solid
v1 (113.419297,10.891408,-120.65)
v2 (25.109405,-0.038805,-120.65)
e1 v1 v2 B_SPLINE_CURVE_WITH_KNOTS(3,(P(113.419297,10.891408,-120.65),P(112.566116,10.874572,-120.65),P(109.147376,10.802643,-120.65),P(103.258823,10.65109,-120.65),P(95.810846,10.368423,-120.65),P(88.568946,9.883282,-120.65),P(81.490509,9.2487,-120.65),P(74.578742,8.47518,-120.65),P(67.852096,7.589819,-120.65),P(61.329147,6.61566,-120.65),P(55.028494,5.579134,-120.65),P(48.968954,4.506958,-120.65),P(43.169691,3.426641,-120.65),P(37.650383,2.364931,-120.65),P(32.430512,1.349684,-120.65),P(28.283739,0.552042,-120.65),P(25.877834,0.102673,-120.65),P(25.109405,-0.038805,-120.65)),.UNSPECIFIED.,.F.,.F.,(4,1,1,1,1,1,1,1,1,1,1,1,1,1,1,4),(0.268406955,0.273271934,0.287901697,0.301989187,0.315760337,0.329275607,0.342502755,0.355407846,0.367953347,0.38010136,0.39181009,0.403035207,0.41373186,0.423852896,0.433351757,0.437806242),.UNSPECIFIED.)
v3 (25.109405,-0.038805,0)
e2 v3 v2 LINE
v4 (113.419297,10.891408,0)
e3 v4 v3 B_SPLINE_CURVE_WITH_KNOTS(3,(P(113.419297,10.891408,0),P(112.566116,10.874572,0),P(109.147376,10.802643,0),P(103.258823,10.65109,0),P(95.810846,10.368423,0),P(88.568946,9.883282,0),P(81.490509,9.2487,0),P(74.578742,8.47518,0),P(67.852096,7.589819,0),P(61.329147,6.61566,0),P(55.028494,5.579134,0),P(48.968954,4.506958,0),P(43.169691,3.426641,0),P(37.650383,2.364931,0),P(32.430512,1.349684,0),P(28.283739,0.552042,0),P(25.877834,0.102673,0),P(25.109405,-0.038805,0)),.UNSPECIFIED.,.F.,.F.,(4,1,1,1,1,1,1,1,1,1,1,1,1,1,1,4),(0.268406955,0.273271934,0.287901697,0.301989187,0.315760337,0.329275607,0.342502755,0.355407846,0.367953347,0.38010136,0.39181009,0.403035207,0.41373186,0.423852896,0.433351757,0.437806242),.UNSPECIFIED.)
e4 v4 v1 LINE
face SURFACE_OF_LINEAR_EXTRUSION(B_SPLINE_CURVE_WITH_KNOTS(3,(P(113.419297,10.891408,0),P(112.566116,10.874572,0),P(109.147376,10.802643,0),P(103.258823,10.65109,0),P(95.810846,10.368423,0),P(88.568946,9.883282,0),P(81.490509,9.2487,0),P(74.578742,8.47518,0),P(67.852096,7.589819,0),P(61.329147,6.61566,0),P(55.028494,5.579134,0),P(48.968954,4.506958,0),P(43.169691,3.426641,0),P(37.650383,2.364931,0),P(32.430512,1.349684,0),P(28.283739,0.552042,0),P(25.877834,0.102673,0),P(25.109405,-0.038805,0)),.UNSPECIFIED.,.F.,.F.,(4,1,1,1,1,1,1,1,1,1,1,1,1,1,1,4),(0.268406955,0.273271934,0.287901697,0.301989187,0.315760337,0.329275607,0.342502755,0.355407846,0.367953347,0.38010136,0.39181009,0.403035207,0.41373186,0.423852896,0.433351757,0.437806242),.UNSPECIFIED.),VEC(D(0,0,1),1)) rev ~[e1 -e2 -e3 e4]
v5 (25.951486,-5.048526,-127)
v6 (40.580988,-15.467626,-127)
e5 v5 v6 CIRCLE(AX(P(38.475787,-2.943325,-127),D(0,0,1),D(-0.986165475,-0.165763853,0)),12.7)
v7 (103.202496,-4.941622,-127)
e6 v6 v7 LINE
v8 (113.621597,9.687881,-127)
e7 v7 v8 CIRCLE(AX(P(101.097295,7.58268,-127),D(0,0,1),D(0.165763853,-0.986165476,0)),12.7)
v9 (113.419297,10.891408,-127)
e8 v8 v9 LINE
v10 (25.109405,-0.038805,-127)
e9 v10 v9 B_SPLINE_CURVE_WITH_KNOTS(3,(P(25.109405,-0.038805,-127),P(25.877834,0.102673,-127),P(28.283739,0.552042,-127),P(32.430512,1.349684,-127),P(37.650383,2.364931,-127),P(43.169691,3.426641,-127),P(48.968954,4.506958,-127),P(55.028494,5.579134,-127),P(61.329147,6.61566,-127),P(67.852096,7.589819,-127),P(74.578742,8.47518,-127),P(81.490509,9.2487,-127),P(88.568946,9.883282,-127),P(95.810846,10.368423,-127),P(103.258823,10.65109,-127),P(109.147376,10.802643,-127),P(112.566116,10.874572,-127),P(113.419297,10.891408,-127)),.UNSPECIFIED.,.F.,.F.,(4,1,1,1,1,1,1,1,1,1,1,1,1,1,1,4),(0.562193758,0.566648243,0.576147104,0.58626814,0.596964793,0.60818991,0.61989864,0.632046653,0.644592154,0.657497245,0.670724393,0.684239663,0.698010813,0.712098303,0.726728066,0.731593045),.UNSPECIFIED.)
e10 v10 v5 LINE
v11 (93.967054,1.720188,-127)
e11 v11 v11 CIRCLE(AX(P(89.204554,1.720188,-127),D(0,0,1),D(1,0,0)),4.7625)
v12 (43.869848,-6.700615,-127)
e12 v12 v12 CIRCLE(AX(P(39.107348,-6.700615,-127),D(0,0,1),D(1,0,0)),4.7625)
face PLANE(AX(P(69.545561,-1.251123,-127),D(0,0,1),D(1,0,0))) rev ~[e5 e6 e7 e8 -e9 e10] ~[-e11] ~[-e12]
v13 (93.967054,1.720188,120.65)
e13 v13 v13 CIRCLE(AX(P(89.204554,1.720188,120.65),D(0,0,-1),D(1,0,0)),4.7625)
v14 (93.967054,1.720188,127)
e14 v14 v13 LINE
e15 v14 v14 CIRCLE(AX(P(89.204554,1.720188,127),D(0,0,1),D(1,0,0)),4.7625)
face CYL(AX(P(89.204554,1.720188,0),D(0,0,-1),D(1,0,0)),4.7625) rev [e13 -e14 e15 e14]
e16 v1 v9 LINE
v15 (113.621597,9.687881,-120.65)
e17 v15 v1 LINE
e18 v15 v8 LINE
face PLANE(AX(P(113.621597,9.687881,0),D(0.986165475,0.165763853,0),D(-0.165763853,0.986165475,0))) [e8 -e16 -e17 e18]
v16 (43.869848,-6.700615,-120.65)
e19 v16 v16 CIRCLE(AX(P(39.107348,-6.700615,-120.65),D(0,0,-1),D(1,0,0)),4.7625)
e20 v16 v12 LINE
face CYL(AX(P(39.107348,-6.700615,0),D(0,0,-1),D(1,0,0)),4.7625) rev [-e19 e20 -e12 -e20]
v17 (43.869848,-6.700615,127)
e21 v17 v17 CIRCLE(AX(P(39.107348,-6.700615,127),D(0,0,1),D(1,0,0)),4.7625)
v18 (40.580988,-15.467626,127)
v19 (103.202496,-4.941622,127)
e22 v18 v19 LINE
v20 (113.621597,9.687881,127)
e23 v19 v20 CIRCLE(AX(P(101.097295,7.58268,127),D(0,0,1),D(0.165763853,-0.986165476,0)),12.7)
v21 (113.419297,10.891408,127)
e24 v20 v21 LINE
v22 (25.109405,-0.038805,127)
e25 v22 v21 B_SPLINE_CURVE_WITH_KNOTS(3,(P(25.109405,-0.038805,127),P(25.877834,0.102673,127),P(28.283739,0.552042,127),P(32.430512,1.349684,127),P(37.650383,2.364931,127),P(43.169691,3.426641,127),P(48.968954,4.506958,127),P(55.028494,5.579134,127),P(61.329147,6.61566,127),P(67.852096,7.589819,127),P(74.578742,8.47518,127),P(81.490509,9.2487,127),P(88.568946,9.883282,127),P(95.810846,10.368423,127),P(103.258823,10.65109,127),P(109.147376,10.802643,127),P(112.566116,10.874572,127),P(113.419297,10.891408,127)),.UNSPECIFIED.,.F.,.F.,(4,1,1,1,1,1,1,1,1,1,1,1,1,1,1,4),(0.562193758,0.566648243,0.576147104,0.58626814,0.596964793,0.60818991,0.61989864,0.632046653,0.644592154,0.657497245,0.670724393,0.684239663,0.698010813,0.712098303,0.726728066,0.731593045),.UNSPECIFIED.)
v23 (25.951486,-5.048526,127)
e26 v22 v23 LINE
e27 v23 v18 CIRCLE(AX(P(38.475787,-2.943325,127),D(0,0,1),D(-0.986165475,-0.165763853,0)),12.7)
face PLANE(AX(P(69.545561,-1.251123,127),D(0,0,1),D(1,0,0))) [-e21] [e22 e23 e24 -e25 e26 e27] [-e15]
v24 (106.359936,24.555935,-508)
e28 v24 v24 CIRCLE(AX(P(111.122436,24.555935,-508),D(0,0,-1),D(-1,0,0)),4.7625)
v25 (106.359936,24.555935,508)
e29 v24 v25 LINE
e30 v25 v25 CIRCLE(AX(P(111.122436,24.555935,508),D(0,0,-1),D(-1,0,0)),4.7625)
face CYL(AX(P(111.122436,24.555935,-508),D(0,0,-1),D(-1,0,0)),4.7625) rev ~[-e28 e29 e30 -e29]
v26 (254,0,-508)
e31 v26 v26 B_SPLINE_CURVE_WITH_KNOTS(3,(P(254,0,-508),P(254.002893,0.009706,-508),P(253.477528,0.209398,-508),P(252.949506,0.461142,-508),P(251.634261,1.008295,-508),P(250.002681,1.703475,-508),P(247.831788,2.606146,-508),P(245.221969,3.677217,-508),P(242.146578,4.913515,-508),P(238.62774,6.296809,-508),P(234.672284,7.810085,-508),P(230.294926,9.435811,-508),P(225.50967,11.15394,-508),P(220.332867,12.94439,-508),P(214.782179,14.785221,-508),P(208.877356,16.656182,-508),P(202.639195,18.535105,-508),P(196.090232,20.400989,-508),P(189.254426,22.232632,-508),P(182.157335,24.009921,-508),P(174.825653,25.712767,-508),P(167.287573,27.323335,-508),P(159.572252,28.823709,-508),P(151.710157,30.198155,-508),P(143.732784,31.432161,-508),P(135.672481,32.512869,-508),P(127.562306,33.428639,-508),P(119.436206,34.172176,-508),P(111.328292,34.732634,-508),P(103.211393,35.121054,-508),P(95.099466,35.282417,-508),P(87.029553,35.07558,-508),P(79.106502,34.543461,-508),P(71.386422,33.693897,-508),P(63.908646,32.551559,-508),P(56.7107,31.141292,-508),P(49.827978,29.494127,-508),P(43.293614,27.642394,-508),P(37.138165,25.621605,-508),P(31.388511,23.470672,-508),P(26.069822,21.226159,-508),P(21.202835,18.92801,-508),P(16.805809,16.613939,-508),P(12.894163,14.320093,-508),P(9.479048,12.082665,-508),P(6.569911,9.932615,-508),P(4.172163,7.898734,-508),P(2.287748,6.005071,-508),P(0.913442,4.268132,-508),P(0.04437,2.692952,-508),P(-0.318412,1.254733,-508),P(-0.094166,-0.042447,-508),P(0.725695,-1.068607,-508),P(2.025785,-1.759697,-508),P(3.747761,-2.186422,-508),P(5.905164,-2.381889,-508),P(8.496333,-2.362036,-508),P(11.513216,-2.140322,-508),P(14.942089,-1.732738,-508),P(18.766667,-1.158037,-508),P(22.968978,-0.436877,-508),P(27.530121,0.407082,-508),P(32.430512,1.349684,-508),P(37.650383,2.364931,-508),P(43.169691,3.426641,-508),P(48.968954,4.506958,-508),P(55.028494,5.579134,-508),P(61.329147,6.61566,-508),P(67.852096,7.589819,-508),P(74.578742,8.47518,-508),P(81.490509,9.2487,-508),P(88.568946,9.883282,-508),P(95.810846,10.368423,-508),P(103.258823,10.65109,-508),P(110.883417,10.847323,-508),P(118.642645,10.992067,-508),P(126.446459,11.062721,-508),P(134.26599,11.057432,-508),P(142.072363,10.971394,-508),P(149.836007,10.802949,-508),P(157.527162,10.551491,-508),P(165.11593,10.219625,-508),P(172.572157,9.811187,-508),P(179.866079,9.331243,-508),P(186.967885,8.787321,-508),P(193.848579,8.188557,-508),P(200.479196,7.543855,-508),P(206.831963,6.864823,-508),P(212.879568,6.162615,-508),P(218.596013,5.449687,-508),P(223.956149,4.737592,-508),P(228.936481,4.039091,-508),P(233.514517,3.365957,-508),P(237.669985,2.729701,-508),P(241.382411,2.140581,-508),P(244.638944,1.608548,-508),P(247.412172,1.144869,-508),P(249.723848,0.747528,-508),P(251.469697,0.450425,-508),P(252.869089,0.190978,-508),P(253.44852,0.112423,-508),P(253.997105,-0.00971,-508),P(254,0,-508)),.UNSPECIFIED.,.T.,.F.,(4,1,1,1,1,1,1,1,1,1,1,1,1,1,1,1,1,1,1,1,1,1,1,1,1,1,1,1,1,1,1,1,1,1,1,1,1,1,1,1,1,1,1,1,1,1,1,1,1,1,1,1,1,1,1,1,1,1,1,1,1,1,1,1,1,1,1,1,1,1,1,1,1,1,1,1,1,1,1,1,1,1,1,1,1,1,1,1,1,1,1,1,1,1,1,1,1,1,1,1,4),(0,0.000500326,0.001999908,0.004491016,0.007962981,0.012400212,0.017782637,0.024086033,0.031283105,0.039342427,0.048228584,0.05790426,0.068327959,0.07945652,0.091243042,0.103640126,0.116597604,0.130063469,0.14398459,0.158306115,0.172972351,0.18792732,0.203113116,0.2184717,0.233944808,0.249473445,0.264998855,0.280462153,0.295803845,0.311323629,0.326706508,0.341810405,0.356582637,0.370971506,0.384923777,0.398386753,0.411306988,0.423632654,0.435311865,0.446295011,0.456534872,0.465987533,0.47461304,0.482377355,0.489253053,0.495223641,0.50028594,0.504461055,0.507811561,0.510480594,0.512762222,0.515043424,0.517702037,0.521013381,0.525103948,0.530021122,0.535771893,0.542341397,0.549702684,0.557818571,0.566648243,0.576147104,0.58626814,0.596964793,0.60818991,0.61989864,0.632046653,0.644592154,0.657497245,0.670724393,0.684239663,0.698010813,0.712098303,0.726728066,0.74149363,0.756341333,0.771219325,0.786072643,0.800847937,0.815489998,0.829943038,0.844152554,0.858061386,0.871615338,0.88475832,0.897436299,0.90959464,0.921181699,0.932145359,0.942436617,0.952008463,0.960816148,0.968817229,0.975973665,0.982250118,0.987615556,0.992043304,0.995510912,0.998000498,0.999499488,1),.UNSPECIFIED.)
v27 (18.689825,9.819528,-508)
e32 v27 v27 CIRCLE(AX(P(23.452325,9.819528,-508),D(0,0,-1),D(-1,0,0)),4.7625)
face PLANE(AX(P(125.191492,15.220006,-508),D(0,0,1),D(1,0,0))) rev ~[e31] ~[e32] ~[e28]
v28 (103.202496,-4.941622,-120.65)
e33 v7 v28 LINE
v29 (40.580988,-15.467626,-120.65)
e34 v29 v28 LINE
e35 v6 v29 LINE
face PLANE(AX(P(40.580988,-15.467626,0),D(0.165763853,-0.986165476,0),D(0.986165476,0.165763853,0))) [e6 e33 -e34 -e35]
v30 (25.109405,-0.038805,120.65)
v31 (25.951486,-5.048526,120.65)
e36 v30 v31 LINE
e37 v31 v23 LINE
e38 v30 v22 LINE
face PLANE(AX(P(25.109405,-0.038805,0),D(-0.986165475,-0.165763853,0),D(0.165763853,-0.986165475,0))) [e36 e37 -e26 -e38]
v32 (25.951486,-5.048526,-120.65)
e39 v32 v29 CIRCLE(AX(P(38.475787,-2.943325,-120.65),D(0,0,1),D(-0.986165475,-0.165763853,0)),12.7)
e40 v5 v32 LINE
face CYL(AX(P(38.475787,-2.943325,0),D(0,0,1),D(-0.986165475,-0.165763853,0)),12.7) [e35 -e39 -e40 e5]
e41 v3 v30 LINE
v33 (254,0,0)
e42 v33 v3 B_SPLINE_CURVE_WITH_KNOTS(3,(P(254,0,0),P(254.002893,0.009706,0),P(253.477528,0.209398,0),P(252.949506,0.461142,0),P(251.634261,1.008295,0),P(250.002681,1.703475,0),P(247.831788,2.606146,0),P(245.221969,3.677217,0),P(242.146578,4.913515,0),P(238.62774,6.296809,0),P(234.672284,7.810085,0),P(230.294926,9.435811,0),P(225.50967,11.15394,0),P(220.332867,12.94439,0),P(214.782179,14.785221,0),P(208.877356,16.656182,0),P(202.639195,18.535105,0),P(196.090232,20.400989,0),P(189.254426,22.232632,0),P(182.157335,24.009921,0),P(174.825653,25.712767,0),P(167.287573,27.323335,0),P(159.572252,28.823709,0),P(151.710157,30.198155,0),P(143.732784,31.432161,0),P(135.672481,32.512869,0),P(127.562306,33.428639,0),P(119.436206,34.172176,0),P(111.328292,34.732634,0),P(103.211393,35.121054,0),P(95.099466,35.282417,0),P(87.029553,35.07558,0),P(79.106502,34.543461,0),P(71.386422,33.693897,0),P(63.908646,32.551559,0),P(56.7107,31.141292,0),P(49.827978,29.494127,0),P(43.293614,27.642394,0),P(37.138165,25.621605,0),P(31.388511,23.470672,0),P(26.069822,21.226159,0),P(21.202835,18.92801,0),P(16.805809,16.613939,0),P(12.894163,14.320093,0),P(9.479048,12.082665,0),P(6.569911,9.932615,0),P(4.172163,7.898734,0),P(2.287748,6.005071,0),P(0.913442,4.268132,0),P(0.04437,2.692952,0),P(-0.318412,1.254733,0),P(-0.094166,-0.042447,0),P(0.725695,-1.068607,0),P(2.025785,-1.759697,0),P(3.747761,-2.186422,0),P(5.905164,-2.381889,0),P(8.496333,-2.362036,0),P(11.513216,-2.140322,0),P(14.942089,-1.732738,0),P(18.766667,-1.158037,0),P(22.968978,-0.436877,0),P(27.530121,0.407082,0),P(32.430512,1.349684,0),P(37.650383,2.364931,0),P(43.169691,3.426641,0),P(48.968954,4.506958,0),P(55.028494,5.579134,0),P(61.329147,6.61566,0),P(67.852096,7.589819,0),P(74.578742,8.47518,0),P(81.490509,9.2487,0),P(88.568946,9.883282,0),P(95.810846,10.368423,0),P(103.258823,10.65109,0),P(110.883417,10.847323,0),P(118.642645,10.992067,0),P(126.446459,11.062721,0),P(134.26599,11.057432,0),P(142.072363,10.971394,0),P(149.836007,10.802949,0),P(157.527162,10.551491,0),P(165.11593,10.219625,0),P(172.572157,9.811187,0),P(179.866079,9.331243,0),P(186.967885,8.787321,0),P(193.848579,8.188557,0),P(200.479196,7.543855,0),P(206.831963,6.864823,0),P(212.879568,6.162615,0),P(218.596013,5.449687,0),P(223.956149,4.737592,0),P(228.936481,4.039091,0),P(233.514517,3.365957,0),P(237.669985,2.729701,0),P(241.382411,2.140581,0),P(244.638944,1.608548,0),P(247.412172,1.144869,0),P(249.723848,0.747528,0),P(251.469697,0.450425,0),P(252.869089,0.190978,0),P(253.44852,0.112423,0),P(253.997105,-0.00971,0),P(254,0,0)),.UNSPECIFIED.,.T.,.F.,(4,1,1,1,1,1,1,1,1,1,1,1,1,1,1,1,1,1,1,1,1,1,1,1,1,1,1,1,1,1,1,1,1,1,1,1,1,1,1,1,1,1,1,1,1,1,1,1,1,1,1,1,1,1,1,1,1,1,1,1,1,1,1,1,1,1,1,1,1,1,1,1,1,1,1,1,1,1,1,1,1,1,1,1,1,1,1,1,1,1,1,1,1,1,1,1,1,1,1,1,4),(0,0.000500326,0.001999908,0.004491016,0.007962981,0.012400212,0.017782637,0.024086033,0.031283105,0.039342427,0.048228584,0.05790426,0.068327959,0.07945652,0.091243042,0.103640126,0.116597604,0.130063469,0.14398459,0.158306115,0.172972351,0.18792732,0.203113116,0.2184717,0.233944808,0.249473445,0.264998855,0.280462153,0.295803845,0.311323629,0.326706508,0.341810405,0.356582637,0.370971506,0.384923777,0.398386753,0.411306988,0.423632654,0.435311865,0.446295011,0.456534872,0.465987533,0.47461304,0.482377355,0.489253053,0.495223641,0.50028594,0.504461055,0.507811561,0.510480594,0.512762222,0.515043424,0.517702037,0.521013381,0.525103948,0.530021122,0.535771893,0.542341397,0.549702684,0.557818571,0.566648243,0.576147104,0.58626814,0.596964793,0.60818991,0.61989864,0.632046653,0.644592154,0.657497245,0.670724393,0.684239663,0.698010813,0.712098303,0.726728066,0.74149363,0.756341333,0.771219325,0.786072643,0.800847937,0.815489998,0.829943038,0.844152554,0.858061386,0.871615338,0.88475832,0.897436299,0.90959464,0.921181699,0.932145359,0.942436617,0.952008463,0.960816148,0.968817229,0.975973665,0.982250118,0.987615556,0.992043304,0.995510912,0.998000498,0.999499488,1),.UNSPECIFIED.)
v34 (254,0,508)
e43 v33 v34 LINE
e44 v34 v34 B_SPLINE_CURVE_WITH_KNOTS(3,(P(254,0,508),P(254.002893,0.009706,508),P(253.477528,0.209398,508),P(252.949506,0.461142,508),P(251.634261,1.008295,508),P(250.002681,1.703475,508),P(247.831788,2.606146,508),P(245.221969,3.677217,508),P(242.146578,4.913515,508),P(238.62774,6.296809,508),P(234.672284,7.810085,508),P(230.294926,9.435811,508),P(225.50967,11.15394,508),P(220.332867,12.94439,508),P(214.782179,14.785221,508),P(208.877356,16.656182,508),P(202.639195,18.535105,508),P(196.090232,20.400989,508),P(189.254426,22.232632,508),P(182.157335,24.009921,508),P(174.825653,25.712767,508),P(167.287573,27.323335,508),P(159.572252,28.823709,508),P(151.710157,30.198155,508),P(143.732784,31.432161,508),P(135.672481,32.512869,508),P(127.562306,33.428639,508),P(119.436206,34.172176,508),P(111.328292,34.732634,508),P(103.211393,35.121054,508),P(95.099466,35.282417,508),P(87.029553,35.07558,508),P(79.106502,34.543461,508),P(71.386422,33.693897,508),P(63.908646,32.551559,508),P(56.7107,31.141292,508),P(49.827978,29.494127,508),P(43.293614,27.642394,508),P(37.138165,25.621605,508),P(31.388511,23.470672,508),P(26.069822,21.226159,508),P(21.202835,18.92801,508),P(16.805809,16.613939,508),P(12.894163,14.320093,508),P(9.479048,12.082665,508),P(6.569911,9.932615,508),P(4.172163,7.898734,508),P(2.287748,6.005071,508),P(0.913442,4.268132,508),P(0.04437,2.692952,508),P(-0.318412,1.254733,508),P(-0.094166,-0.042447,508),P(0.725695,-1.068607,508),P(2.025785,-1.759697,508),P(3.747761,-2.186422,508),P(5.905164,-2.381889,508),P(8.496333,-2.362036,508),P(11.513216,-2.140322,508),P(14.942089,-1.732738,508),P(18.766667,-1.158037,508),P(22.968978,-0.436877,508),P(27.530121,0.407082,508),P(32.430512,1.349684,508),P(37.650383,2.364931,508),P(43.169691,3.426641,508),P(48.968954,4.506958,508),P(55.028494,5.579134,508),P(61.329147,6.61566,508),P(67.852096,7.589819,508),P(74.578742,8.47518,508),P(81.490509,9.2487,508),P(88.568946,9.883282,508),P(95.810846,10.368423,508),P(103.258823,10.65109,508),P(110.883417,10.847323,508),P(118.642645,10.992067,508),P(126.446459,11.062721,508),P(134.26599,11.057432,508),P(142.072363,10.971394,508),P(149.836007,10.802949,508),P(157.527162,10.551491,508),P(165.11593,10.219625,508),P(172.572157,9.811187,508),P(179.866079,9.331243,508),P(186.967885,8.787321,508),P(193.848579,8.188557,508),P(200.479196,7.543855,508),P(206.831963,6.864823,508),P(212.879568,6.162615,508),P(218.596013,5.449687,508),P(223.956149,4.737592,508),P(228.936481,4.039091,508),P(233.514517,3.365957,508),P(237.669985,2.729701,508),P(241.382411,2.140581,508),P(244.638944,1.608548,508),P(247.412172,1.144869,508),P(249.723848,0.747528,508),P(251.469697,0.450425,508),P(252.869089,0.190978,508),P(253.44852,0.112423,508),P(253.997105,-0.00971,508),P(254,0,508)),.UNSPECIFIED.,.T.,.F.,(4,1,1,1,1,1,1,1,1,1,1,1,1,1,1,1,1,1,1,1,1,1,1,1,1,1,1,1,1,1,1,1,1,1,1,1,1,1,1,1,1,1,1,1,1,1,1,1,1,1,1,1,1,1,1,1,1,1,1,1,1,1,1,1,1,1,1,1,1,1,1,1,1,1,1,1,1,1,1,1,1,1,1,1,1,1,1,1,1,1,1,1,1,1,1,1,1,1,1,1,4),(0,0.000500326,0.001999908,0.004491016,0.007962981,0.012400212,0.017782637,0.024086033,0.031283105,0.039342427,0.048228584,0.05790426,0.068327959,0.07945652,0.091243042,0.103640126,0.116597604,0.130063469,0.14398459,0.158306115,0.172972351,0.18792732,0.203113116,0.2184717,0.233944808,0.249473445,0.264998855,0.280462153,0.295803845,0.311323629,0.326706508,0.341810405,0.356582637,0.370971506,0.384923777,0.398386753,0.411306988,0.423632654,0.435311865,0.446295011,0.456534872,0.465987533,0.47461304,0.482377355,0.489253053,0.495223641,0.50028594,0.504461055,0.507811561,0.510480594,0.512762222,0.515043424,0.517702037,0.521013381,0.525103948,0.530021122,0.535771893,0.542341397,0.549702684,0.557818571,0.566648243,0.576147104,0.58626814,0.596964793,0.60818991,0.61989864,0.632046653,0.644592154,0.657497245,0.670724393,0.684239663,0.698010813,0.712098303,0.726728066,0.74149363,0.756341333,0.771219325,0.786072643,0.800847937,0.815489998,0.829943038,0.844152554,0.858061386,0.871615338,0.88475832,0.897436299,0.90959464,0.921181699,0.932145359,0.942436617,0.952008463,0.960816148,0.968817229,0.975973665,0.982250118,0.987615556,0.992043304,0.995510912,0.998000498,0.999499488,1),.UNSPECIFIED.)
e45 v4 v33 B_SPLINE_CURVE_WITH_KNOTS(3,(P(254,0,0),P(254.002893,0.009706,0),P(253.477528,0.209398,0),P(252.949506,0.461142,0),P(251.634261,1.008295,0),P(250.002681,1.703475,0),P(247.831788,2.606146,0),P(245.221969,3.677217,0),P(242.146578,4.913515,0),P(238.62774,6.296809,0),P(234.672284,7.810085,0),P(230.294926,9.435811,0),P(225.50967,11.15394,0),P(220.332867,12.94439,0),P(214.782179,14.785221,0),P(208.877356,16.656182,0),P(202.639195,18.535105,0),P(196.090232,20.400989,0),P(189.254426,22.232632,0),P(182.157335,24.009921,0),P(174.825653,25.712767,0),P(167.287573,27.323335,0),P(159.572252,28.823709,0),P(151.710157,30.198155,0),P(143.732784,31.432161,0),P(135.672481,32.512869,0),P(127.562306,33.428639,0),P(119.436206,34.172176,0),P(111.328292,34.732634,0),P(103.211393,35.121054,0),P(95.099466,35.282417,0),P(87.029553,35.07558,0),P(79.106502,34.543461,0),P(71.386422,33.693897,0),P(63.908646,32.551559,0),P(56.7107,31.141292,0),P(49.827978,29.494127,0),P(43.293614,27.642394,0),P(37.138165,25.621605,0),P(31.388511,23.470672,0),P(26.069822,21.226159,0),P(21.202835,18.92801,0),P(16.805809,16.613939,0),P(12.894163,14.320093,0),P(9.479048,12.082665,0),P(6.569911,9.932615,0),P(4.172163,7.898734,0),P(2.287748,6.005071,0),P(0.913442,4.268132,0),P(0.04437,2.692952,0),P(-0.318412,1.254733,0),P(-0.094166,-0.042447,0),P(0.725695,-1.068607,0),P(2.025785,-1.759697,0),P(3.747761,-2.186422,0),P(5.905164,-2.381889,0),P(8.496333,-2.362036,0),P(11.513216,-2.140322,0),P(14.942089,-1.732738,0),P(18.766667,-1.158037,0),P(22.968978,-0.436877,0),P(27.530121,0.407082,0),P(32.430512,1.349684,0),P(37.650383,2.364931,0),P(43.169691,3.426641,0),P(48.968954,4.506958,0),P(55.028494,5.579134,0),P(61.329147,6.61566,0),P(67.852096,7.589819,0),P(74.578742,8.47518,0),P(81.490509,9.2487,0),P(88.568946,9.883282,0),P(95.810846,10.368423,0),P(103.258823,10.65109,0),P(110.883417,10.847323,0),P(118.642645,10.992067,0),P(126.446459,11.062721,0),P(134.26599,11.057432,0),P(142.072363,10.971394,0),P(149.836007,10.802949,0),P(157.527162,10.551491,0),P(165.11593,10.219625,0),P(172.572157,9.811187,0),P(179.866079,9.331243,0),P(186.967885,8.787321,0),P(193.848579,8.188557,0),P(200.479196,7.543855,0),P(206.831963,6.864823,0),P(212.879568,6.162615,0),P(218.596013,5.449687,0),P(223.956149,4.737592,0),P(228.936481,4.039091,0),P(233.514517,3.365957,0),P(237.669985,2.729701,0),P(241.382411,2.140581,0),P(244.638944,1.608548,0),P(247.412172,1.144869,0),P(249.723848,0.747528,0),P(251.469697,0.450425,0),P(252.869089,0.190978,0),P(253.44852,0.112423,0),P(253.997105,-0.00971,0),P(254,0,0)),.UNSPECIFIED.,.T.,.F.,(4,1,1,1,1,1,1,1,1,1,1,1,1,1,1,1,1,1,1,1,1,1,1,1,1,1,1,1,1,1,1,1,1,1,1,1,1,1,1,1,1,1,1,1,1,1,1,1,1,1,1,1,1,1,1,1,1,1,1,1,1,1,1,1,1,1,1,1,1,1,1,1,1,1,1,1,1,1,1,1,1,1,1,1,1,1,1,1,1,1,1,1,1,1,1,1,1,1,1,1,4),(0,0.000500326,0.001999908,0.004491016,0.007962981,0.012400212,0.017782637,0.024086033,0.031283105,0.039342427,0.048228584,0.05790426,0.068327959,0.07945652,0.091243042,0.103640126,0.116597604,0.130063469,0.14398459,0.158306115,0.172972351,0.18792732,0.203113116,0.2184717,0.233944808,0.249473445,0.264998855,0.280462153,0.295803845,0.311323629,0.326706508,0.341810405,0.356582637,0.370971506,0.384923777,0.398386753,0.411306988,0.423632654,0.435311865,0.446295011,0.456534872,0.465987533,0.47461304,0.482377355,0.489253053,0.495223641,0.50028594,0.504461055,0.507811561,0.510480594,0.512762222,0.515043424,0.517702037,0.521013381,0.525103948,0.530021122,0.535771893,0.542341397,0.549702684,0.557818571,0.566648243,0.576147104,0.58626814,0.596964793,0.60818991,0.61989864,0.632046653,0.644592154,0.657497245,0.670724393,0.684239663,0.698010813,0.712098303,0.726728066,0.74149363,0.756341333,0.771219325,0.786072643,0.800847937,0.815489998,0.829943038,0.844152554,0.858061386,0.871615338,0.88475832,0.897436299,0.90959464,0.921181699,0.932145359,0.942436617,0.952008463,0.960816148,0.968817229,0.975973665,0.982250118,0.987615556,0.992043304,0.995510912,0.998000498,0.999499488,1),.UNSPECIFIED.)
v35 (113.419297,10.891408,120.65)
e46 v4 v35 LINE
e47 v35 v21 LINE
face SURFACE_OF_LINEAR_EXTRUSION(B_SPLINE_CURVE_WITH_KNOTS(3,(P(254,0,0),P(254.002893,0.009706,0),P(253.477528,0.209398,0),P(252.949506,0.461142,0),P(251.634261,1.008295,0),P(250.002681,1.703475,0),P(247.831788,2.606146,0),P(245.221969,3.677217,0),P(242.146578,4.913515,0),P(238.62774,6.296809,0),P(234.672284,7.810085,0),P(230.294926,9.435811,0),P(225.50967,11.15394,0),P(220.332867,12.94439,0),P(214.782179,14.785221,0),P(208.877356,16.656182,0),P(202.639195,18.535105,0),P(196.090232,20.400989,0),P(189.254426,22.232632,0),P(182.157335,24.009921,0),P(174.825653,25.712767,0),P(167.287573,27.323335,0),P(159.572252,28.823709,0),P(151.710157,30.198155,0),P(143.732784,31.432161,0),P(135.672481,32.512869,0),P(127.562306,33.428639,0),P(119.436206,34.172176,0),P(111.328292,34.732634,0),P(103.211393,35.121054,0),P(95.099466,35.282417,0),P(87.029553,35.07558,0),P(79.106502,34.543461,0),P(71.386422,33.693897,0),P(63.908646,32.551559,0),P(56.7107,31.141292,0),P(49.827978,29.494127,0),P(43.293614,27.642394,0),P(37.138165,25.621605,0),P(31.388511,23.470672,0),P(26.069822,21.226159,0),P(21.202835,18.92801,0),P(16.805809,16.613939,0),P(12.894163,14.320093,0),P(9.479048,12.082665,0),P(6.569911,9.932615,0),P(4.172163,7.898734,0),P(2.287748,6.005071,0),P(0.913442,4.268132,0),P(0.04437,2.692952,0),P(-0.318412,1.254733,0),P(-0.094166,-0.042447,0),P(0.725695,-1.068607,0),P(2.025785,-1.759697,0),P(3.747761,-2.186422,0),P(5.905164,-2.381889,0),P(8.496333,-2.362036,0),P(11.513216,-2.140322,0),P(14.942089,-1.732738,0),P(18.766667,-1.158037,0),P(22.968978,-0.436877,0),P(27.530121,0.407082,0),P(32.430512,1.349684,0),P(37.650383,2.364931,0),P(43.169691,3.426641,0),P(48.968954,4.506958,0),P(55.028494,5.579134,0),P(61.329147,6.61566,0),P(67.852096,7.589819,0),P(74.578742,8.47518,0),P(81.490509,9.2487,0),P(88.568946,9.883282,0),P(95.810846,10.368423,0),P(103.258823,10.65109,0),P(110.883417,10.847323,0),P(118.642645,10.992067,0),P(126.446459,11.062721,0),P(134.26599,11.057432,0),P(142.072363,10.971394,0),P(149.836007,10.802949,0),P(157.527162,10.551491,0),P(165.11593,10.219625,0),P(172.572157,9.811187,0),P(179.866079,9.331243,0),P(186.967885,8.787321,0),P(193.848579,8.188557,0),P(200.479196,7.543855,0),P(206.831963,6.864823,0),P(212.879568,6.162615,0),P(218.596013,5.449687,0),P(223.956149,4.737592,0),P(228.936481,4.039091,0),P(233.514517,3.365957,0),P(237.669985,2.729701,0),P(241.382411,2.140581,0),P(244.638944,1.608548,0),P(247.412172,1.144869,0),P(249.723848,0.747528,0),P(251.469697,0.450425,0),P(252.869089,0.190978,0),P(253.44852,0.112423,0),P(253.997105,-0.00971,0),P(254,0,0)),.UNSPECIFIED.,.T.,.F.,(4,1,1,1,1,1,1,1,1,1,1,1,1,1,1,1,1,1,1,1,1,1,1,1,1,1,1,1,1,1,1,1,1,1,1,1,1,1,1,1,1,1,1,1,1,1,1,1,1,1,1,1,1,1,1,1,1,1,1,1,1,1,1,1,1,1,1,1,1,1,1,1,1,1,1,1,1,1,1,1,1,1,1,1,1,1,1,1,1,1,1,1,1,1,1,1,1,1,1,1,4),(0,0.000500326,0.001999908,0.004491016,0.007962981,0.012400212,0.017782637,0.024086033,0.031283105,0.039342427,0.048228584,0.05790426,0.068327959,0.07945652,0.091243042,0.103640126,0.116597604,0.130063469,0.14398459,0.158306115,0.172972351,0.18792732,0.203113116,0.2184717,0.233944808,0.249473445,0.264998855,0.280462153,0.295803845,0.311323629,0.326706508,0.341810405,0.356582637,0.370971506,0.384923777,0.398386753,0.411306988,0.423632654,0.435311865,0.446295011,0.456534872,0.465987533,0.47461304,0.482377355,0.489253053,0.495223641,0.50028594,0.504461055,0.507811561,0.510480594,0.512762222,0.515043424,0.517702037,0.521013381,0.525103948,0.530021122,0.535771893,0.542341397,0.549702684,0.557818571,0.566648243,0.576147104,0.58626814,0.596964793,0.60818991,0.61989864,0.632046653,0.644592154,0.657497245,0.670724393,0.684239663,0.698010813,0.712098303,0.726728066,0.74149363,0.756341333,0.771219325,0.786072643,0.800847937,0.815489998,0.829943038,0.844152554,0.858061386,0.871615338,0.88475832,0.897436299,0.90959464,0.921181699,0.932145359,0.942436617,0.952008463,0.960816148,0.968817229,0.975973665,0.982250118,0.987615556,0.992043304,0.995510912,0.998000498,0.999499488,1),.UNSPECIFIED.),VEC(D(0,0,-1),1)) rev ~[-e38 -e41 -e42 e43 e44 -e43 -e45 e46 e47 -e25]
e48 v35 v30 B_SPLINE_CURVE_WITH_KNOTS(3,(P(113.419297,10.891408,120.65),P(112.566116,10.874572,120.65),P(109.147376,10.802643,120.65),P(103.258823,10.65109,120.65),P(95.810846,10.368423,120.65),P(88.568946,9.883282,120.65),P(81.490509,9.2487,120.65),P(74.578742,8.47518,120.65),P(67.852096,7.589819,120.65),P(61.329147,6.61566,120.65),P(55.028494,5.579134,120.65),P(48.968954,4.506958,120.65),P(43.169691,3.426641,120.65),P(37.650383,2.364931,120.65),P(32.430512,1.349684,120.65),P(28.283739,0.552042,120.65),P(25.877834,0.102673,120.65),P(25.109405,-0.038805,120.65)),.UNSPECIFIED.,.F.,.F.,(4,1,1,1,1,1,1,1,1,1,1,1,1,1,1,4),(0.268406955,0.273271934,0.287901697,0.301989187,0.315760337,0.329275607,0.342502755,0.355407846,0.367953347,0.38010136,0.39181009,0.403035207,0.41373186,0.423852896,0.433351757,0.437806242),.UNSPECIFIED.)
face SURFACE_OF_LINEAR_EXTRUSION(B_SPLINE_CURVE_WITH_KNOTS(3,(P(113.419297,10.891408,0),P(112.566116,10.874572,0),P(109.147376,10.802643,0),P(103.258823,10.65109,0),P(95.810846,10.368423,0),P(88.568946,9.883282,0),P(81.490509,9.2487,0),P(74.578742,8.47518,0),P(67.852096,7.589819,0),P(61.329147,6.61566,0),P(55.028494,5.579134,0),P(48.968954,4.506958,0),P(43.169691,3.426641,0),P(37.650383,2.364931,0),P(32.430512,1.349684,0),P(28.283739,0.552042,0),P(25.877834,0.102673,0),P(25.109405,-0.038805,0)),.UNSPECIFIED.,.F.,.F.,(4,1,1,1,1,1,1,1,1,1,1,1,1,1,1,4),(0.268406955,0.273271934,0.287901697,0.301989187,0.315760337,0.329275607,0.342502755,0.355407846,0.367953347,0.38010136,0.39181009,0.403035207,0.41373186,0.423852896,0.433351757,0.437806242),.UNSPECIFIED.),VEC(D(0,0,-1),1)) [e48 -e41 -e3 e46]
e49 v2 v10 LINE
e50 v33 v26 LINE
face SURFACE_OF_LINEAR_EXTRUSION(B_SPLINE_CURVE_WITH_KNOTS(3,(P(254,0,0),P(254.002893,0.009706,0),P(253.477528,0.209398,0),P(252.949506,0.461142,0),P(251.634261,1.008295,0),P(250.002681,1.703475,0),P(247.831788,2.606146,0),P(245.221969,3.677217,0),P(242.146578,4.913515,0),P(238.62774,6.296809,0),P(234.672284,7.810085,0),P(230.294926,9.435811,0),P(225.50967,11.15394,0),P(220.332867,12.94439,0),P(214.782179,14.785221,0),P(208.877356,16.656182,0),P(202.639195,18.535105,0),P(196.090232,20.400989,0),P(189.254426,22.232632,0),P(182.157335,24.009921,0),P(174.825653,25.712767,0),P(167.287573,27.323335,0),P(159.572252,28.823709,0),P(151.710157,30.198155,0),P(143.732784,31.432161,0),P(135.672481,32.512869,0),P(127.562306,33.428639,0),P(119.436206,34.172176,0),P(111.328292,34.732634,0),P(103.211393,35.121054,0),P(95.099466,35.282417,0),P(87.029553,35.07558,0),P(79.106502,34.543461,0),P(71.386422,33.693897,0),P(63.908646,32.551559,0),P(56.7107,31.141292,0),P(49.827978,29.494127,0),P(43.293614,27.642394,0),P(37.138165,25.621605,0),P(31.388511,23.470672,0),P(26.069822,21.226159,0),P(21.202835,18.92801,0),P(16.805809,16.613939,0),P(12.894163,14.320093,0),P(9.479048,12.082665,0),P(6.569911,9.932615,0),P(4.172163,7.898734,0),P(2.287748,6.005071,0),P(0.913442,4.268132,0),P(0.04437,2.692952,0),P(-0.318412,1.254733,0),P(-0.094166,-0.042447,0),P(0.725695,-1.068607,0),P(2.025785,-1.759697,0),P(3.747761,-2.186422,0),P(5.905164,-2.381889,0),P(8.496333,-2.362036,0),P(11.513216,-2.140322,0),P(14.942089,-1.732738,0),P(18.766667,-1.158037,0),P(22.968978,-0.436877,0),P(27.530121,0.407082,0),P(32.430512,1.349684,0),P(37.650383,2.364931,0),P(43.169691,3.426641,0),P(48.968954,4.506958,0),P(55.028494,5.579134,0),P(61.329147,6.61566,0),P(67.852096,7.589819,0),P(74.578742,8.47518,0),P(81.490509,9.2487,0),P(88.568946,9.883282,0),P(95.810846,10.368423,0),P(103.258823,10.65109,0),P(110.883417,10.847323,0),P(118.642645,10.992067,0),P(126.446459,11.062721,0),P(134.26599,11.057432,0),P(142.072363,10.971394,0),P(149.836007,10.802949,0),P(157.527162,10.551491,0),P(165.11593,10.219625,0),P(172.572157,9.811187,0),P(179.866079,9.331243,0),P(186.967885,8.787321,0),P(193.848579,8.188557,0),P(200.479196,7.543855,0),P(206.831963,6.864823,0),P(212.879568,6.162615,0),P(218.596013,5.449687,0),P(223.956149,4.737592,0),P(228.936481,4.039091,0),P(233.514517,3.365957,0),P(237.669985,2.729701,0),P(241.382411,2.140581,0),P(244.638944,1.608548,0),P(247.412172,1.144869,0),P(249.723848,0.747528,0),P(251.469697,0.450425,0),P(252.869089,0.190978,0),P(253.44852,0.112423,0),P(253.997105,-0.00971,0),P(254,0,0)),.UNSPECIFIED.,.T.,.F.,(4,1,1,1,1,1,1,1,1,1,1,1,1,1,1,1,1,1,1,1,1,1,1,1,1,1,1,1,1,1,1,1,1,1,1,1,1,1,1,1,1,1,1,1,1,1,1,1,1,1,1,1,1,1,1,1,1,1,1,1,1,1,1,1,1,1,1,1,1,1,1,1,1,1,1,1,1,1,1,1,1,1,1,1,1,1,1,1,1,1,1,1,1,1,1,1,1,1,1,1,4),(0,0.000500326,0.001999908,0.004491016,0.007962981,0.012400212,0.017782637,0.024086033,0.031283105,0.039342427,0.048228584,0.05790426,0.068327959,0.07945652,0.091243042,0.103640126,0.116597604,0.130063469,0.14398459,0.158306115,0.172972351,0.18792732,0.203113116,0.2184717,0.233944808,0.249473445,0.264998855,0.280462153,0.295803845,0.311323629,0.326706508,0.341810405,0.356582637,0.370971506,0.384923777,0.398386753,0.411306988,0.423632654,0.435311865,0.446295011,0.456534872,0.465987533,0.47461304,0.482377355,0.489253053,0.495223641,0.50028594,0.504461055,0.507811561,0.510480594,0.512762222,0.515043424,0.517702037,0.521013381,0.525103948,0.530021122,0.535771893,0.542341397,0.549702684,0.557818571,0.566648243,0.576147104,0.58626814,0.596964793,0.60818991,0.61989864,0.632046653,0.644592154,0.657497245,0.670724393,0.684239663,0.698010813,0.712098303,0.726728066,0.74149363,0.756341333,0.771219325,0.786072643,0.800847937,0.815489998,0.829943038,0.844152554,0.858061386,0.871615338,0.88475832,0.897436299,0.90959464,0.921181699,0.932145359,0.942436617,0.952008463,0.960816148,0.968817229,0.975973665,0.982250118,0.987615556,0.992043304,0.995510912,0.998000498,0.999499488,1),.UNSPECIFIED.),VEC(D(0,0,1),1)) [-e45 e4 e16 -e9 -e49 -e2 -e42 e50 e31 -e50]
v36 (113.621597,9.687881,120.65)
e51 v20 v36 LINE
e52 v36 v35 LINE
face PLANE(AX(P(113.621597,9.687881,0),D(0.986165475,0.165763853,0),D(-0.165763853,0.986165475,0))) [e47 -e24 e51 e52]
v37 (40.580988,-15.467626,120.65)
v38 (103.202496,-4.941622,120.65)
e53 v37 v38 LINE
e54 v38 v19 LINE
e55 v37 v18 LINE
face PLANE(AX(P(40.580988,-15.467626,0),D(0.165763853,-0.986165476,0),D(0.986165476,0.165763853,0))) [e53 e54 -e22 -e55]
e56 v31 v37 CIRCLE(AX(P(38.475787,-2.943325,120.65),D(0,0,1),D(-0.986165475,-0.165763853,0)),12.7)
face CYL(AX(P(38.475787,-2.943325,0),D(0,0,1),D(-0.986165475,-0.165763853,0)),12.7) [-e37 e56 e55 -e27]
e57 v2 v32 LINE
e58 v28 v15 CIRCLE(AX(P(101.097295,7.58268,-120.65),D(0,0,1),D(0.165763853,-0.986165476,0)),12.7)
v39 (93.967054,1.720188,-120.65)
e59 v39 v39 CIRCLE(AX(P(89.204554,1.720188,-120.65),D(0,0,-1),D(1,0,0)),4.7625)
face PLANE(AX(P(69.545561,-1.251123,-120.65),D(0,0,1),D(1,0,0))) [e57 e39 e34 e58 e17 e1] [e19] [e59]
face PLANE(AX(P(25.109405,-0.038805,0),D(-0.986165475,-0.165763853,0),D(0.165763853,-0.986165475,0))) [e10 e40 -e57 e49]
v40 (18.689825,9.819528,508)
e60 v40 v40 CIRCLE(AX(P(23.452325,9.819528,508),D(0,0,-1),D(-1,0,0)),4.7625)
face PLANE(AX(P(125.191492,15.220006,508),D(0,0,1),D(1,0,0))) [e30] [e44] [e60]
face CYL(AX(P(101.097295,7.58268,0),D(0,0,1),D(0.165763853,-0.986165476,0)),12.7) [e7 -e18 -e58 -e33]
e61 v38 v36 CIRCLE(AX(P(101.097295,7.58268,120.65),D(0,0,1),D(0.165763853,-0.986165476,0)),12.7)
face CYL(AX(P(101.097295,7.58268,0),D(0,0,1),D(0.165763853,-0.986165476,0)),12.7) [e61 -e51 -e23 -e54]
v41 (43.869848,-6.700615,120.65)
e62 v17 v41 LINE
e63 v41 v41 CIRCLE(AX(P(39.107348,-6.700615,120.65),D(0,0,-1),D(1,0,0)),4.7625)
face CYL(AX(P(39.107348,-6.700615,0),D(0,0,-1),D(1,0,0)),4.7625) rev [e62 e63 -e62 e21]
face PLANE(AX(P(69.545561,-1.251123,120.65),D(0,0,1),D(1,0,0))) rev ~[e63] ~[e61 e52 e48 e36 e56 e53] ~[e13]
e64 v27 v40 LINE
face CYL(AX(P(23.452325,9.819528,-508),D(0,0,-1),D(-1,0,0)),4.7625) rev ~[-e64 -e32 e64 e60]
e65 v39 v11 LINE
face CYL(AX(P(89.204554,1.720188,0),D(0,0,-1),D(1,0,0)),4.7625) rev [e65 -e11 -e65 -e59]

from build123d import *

# Parameters (mm, degrees)
BOSS_EXTRUDE1_DEPTH = 508
CUT_EXTRUDE1_REACH  = 1049.861
SKETCH3_R           = 4.7625
SKETCH4_R           = 4.7625
BOSS_EXTRUDE2_DEPTH = 127
CUT_EXTRUDE3_DEPTH  = 120.65


with BuildPart() as part:
    # Sketch1 → Boss-Extrude1 (new, symmetric)
    with BuildSketch(Plane.XY):
        with BuildLine():
            add(Edge.make_bspline(
                [(254, 0), (254.002893482, 0.009706091), (253.477527879, 0.209398181), (252.949506037, 0.461141777), (251.634261386, 1.008295367), (250.002681167, 1.703474954), (247.831787554, 2.606145622), (245.221969161, 3.677217108), (242.146577503, 4.913515019), (238.627740243, 6.296809437), (234.67228441, 7.81008524), (230.294926317, 9.435811029), (225.509669554, 11.153939959), (220.332866987, 12.94438959), (214.782178744, 14.785221379), (208.877356178, 16.65618159), (202.63919469, 18.535104999), (196.090231851, 20.400989036), (189.25442583, 22.232631868), (182.157334842, 24.009920587), (174.825652649, 25.712766788), (167.287572563, 27.323334674), (159.572252199, 28.823709102), (151.710156906, 30.198155188), (143.73278447, 31.432160728), (135.67248117, 32.512868659), (127.562306475, 33.428639158), (119.436205678, 34.172176027), (111.328291738, 34.732634241), (103.211393299, 35.121054115), (95.099465686, 35.282416862), (87.029553447, 35.075579648), (79.106501551, 34.543461365), (71.386421736, 33.693897181), (63.908646209, 32.551558852), (56.710699674, 31.141291538), (49.827978354, 29.494126849), (43.293614171, 27.642394469), (37.138164618, 25.621605092), (31.388510807, 23.470671552), (26.069821688, 21.226159376), (21.20283506, 18.92801018), (16.805808626, 16.613938979), (12.894163005, 14.32009326), (9.479048158, 12.082665219), (6.569910916, 9.932614642), (4.172163168, 7.898734142), (2.287747942, 6.005070871), (0.913441801, 4.26813225), (0.044369976, 2.692951604), (-0.318412015, 1.254733177), (-0.094165747, -0.042447145), (0.725695004, -1.068606647), (2.025784695, -1.759696942), (3.747761044, -2.186421988), (5.905164056, -2.381889133), (8.496332616, -2.362035977), (11.513215651, -2.14032165), (14.942088582, -1.732738153), (18.766666522, -1.158037352), (22.968977807, -0.436876546), (27.530120842, 0.407082111), (32.430511922, 1.349683716), (37.650383472, 2.364930683), (43.169691456, 3.42664098), (48.968953673, 4.506957646), (55.02849364, 5.579133509), (61.329146927, 6.615660032), (67.852096387, 7.589819061), (74.57874205, 8.475179759), (81.490508777, 9.24870041), (88.568945781, 9.883281565), (95.810846202, 10.368423088), (103.258823401, 10.651090051), (110.883417203, 10.847322909), (118.642645092, 10.992067429), (126.44645874, 11.062721398), (134.265990295, 11.057432203), (142.072363373, 10.971394283), (149.836007192, 10.802948848), (157.52716175, 10.5514915), (165.115929504, 10.219624653), (172.572157263, 9.811186605), (179.866078747, 9.331243183), (186.967885476, 8.787320659), (193.848579242, 8.18855716), (200.479196187, 7.54385543), (206.83196264, 6.86482345), (212.879568444, 6.162615287), (218.596013471, 5.44968657), (223.956148698, 4.737592485), (228.936481189, 4.039090774), (233.514516905, 3.365956593), (237.669985048, 2.729700523), (241.382411049, 2.140580688), (244.63894449, 1.608548299), (247.412171556, 1.144869284), (249.723847999, 0.747527633), (251.469697036, 0.450424645), (252.869088586, 0.190978387), (253.448519931, 0.112422849), (253.997105444, -0.009709695), (254, 0)],
                knots=[0, 0, 0, 0, 0.000500326, 0.001999908, 0.004491016, 0.007962981, 0.012400212, 0.017782637, 0.024086033, 0.031283105, 0.039342427, 0.048228584, 0.05790426, 0.068327959, 0.07945652, 0.091243042, 0.103640126, 0.116597604, 0.130063469, 0.14398459, 0.158306115, 0.172972351, 0.18792732, 0.203113116, 0.2184717, 0.233944808, 0.249473445, 0.264998855, 0.280462153, 0.295803845, 0.311323629, 0.326706508, 0.341810405, 0.356582637, 0.370971506, 0.384923777, 0.398386753, 0.411306988, 0.423632654, 0.435311865, 0.446295011, 0.456534872, 0.465987533, 0.47461304, 0.482377355, 0.489253053, 0.495223641, 0.50028594, 0.504461055, 0.507811561, 0.510480594, 0.512762222, 0.515043424, 0.517702037, 0.521013381, 0.525103948, 0.530021122, 0.535771893, 0.542341397, 0.549702684, 0.557818571, 0.566648243, 0.576147104, 0.58626814, 0.596964793, 0.60818991, 0.61989864, 0.632046653, 0.644592154, 0.657497245, 0.670724393, 0.684239663, 0.698010813, 0.712098303, 0.726728066, 0.74149363, 0.756341333, 0.771219325, 0.786072643, 0.800847937, 0.815489998, 0.829943038, 0.844152554, 0.858061386, 0.871615338, 0.88475832, 0.897436299, 0.90959464, 0.921181699, 0.932145359, 0.942436617, 0.952008463, 0.960816148, 0.968817229, 0.975973665, 0.982250118, 0.987615556, 0.992043304, 0.995510912, 0.998000498, 0.999499488, 1, 1, 1, 1], degree=3))
        make_face()
    extrude(amount=BOSS_EXTRUDE1_DEPTH, both=True)

    # Sketch3 → Cut-Extrude1 (cut, up to next)
    with BuildSketch(Plane(origin=(0, 0, -508), x_dir=(-1, 0, 0), z_dir=(0, 0, -1)), mode=Mode.PRIVATE) as cut_extrude1_sk1:
        with Locations((-23.45232519, 9.819528409)):
            Circle(SKETCH3_R)
    cut_extrude1_tool1 = extrude(cut_extrude1_sk1.sketch, amount=-CUT_EXTRUDE1_REACH, mode=Mode.PRIVATE) & part.part
    # Sketch3 → Cut-Extrude1 (cut, up to next)
    with BuildSketch(Plane(origin=(0, 0, -508), x_dir=(-1, 0, 0), z_dir=(0, 0, -1)), mode=Mode.PRIVATE) as cut_extrude1_sk2:
        with Locations((-111.122435962, 24.555934929)):
            Circle(SKETCH3_R)
    cut_extrude1_tool2 = extrude(cut_extrude1_sk2.sketch, amount=-CUT_EXTRUDE1_REACH, mode=Mode.PRIVATE) & part.part
    add(cut_extrude1_tool1.solids().sort_by_distance((23.452325, 9.819528, -508))[0], mode=Mode.SUBTRACT)
    add(cut_extrude1_tool2.solids().sort_by_distance((111.122436, 24.555935, -508))[0], mode=Mode.SUBTRACT)

    # Sketch4 → Boss-Extrude2 (add, symmetric)
    with BuildSketch(Plane.XY):
        with BuildLine():
            Line((25.10940545, -0.038805089), (25.951485823, -5.048525704))
            ThreePointArc((25.951485823, -5.048525704), (31.108370669, -13.287945175), (40.580988293, -15.467626312))
            Line((40.580988293, -15.467626312), (103.202495988, -4.941621654))
            ThreePointArc((103.202495988, -4.941621654), (111.441915459, 0.215263191), (113.621596596, 9.687880816))
            Line((113.621596596, 9.687880816), (113.419296514, 10.89140832))
            add(Edge.make_bspline(
                [(25.10940545, -0.038805089), (25.877834055, 0.102672578), (28.283739447, 0.5520424), (32.430511922, 1.349683716), (37.650383472, 2.364930683), (43.169691456, 3.42664098), (48.968953673, 4.506957646), (55.02849364, 5.579133509), (61.329146927, 6.615660032), (67.852096387, 7.589819061), (74.57874205, 8.475179759), (81.490508777, 9.24870041), (88.568945781, 9.883281565), (95.810846202, 10.368423088), (103.258823401, 10.651090051), (109.147376484, 10.802642728), (112.566115929, 10.874571687), (113.419296514, 10.89140832)],
                knots=[0.562193758, 0.562193758, 0.562193758, 0.562193758, 0.566648243, 0.576147104, 0.58626814, 0.596964793, 0.60818991, 0.61989864, 0.632046653, 0.644592154, 0.657497245, 0.670724393, 0.684239663, 0.698010813, 0.712098303, 0.726728066, 0.731593045, 0.731593045, 0.731593045, 0.731593045], degree=3))
        make_face()
        with Locations((39.107347641, -6.700615234)):
            Circle(SKETCH4_R, mode=Mode.SUBTRACT)
        with Locations((89.204553797, 1.720188492)):
            Circle(SKETCH4_R, mode=Mode.SUBTRACT)
    extrude(amount=BOSS_EXTRUDE2_DEPTH, both=True)

    # Sketch6 → Cut-Extrude3 (cut, symmetric)
    with BuildSketch(Plane.XY):
        with BuildLine():
            Line((25.10940545, -0.038805089), (25.951485823, -5.048525704))
            ThreePointArc((25.951485823, -5.048525704), (31.108370669, -13.287945175), (40.580988293, -15.467626312))
            Line((40.580988293, -15.467626312), (103.202495988, -4.941621654))
            ThreePointArc((103.202495988, -4.941621654), (111.441915459, 0.215263191), (113.621596596, 9.687880816))
            Line((113.621596596, 9.687880816), (113.419296514, 10.89140832))
            add(Edge.make_bspline(
                [(113.419296514, 10.89140832), (112.566115929, 10.874571687), (109.147376484, 10.802642728), (103.258823401, 10.651090051), (95.810846202, 10.368423088), (88.568945781, 9.883281565), (81.490508777, 9.24870041), (74.57874205, 8.475179759), (67.852096387, 7.589819061), (61.329146927, 6.615660032), (55.02849364, 5.579133509), (48.968953673, 4.506957646), (43.169691456, 3.42664098), (37.650383472, 2.364930683), (32.430511922, 1.349683716), (28.283739447, 0.5520424), (25.877834055, 0.102672578), (25.10940545, -0.038805089)],
                knots=[0.268406955, 0.268406955, 0.268406955, 0.268406955, 0.273271934, 0.287901697, 0.301989187, 0.315760337, 0.329275607, 0.342502755, 0.355407846, 0.367953347, 0.38010136, 0.39181009, 0.403035207, 0.41373186, 0.423852896, 0.433351757, 0.437806242, 0.437806242, 0.437806242, 0.437806242], degree=3))
        make_face()
    extrude(amount=CUT_EXTRUDE3_DEPTH, both=True, mode=Mode.SUBTRACT)


solid = part.part
